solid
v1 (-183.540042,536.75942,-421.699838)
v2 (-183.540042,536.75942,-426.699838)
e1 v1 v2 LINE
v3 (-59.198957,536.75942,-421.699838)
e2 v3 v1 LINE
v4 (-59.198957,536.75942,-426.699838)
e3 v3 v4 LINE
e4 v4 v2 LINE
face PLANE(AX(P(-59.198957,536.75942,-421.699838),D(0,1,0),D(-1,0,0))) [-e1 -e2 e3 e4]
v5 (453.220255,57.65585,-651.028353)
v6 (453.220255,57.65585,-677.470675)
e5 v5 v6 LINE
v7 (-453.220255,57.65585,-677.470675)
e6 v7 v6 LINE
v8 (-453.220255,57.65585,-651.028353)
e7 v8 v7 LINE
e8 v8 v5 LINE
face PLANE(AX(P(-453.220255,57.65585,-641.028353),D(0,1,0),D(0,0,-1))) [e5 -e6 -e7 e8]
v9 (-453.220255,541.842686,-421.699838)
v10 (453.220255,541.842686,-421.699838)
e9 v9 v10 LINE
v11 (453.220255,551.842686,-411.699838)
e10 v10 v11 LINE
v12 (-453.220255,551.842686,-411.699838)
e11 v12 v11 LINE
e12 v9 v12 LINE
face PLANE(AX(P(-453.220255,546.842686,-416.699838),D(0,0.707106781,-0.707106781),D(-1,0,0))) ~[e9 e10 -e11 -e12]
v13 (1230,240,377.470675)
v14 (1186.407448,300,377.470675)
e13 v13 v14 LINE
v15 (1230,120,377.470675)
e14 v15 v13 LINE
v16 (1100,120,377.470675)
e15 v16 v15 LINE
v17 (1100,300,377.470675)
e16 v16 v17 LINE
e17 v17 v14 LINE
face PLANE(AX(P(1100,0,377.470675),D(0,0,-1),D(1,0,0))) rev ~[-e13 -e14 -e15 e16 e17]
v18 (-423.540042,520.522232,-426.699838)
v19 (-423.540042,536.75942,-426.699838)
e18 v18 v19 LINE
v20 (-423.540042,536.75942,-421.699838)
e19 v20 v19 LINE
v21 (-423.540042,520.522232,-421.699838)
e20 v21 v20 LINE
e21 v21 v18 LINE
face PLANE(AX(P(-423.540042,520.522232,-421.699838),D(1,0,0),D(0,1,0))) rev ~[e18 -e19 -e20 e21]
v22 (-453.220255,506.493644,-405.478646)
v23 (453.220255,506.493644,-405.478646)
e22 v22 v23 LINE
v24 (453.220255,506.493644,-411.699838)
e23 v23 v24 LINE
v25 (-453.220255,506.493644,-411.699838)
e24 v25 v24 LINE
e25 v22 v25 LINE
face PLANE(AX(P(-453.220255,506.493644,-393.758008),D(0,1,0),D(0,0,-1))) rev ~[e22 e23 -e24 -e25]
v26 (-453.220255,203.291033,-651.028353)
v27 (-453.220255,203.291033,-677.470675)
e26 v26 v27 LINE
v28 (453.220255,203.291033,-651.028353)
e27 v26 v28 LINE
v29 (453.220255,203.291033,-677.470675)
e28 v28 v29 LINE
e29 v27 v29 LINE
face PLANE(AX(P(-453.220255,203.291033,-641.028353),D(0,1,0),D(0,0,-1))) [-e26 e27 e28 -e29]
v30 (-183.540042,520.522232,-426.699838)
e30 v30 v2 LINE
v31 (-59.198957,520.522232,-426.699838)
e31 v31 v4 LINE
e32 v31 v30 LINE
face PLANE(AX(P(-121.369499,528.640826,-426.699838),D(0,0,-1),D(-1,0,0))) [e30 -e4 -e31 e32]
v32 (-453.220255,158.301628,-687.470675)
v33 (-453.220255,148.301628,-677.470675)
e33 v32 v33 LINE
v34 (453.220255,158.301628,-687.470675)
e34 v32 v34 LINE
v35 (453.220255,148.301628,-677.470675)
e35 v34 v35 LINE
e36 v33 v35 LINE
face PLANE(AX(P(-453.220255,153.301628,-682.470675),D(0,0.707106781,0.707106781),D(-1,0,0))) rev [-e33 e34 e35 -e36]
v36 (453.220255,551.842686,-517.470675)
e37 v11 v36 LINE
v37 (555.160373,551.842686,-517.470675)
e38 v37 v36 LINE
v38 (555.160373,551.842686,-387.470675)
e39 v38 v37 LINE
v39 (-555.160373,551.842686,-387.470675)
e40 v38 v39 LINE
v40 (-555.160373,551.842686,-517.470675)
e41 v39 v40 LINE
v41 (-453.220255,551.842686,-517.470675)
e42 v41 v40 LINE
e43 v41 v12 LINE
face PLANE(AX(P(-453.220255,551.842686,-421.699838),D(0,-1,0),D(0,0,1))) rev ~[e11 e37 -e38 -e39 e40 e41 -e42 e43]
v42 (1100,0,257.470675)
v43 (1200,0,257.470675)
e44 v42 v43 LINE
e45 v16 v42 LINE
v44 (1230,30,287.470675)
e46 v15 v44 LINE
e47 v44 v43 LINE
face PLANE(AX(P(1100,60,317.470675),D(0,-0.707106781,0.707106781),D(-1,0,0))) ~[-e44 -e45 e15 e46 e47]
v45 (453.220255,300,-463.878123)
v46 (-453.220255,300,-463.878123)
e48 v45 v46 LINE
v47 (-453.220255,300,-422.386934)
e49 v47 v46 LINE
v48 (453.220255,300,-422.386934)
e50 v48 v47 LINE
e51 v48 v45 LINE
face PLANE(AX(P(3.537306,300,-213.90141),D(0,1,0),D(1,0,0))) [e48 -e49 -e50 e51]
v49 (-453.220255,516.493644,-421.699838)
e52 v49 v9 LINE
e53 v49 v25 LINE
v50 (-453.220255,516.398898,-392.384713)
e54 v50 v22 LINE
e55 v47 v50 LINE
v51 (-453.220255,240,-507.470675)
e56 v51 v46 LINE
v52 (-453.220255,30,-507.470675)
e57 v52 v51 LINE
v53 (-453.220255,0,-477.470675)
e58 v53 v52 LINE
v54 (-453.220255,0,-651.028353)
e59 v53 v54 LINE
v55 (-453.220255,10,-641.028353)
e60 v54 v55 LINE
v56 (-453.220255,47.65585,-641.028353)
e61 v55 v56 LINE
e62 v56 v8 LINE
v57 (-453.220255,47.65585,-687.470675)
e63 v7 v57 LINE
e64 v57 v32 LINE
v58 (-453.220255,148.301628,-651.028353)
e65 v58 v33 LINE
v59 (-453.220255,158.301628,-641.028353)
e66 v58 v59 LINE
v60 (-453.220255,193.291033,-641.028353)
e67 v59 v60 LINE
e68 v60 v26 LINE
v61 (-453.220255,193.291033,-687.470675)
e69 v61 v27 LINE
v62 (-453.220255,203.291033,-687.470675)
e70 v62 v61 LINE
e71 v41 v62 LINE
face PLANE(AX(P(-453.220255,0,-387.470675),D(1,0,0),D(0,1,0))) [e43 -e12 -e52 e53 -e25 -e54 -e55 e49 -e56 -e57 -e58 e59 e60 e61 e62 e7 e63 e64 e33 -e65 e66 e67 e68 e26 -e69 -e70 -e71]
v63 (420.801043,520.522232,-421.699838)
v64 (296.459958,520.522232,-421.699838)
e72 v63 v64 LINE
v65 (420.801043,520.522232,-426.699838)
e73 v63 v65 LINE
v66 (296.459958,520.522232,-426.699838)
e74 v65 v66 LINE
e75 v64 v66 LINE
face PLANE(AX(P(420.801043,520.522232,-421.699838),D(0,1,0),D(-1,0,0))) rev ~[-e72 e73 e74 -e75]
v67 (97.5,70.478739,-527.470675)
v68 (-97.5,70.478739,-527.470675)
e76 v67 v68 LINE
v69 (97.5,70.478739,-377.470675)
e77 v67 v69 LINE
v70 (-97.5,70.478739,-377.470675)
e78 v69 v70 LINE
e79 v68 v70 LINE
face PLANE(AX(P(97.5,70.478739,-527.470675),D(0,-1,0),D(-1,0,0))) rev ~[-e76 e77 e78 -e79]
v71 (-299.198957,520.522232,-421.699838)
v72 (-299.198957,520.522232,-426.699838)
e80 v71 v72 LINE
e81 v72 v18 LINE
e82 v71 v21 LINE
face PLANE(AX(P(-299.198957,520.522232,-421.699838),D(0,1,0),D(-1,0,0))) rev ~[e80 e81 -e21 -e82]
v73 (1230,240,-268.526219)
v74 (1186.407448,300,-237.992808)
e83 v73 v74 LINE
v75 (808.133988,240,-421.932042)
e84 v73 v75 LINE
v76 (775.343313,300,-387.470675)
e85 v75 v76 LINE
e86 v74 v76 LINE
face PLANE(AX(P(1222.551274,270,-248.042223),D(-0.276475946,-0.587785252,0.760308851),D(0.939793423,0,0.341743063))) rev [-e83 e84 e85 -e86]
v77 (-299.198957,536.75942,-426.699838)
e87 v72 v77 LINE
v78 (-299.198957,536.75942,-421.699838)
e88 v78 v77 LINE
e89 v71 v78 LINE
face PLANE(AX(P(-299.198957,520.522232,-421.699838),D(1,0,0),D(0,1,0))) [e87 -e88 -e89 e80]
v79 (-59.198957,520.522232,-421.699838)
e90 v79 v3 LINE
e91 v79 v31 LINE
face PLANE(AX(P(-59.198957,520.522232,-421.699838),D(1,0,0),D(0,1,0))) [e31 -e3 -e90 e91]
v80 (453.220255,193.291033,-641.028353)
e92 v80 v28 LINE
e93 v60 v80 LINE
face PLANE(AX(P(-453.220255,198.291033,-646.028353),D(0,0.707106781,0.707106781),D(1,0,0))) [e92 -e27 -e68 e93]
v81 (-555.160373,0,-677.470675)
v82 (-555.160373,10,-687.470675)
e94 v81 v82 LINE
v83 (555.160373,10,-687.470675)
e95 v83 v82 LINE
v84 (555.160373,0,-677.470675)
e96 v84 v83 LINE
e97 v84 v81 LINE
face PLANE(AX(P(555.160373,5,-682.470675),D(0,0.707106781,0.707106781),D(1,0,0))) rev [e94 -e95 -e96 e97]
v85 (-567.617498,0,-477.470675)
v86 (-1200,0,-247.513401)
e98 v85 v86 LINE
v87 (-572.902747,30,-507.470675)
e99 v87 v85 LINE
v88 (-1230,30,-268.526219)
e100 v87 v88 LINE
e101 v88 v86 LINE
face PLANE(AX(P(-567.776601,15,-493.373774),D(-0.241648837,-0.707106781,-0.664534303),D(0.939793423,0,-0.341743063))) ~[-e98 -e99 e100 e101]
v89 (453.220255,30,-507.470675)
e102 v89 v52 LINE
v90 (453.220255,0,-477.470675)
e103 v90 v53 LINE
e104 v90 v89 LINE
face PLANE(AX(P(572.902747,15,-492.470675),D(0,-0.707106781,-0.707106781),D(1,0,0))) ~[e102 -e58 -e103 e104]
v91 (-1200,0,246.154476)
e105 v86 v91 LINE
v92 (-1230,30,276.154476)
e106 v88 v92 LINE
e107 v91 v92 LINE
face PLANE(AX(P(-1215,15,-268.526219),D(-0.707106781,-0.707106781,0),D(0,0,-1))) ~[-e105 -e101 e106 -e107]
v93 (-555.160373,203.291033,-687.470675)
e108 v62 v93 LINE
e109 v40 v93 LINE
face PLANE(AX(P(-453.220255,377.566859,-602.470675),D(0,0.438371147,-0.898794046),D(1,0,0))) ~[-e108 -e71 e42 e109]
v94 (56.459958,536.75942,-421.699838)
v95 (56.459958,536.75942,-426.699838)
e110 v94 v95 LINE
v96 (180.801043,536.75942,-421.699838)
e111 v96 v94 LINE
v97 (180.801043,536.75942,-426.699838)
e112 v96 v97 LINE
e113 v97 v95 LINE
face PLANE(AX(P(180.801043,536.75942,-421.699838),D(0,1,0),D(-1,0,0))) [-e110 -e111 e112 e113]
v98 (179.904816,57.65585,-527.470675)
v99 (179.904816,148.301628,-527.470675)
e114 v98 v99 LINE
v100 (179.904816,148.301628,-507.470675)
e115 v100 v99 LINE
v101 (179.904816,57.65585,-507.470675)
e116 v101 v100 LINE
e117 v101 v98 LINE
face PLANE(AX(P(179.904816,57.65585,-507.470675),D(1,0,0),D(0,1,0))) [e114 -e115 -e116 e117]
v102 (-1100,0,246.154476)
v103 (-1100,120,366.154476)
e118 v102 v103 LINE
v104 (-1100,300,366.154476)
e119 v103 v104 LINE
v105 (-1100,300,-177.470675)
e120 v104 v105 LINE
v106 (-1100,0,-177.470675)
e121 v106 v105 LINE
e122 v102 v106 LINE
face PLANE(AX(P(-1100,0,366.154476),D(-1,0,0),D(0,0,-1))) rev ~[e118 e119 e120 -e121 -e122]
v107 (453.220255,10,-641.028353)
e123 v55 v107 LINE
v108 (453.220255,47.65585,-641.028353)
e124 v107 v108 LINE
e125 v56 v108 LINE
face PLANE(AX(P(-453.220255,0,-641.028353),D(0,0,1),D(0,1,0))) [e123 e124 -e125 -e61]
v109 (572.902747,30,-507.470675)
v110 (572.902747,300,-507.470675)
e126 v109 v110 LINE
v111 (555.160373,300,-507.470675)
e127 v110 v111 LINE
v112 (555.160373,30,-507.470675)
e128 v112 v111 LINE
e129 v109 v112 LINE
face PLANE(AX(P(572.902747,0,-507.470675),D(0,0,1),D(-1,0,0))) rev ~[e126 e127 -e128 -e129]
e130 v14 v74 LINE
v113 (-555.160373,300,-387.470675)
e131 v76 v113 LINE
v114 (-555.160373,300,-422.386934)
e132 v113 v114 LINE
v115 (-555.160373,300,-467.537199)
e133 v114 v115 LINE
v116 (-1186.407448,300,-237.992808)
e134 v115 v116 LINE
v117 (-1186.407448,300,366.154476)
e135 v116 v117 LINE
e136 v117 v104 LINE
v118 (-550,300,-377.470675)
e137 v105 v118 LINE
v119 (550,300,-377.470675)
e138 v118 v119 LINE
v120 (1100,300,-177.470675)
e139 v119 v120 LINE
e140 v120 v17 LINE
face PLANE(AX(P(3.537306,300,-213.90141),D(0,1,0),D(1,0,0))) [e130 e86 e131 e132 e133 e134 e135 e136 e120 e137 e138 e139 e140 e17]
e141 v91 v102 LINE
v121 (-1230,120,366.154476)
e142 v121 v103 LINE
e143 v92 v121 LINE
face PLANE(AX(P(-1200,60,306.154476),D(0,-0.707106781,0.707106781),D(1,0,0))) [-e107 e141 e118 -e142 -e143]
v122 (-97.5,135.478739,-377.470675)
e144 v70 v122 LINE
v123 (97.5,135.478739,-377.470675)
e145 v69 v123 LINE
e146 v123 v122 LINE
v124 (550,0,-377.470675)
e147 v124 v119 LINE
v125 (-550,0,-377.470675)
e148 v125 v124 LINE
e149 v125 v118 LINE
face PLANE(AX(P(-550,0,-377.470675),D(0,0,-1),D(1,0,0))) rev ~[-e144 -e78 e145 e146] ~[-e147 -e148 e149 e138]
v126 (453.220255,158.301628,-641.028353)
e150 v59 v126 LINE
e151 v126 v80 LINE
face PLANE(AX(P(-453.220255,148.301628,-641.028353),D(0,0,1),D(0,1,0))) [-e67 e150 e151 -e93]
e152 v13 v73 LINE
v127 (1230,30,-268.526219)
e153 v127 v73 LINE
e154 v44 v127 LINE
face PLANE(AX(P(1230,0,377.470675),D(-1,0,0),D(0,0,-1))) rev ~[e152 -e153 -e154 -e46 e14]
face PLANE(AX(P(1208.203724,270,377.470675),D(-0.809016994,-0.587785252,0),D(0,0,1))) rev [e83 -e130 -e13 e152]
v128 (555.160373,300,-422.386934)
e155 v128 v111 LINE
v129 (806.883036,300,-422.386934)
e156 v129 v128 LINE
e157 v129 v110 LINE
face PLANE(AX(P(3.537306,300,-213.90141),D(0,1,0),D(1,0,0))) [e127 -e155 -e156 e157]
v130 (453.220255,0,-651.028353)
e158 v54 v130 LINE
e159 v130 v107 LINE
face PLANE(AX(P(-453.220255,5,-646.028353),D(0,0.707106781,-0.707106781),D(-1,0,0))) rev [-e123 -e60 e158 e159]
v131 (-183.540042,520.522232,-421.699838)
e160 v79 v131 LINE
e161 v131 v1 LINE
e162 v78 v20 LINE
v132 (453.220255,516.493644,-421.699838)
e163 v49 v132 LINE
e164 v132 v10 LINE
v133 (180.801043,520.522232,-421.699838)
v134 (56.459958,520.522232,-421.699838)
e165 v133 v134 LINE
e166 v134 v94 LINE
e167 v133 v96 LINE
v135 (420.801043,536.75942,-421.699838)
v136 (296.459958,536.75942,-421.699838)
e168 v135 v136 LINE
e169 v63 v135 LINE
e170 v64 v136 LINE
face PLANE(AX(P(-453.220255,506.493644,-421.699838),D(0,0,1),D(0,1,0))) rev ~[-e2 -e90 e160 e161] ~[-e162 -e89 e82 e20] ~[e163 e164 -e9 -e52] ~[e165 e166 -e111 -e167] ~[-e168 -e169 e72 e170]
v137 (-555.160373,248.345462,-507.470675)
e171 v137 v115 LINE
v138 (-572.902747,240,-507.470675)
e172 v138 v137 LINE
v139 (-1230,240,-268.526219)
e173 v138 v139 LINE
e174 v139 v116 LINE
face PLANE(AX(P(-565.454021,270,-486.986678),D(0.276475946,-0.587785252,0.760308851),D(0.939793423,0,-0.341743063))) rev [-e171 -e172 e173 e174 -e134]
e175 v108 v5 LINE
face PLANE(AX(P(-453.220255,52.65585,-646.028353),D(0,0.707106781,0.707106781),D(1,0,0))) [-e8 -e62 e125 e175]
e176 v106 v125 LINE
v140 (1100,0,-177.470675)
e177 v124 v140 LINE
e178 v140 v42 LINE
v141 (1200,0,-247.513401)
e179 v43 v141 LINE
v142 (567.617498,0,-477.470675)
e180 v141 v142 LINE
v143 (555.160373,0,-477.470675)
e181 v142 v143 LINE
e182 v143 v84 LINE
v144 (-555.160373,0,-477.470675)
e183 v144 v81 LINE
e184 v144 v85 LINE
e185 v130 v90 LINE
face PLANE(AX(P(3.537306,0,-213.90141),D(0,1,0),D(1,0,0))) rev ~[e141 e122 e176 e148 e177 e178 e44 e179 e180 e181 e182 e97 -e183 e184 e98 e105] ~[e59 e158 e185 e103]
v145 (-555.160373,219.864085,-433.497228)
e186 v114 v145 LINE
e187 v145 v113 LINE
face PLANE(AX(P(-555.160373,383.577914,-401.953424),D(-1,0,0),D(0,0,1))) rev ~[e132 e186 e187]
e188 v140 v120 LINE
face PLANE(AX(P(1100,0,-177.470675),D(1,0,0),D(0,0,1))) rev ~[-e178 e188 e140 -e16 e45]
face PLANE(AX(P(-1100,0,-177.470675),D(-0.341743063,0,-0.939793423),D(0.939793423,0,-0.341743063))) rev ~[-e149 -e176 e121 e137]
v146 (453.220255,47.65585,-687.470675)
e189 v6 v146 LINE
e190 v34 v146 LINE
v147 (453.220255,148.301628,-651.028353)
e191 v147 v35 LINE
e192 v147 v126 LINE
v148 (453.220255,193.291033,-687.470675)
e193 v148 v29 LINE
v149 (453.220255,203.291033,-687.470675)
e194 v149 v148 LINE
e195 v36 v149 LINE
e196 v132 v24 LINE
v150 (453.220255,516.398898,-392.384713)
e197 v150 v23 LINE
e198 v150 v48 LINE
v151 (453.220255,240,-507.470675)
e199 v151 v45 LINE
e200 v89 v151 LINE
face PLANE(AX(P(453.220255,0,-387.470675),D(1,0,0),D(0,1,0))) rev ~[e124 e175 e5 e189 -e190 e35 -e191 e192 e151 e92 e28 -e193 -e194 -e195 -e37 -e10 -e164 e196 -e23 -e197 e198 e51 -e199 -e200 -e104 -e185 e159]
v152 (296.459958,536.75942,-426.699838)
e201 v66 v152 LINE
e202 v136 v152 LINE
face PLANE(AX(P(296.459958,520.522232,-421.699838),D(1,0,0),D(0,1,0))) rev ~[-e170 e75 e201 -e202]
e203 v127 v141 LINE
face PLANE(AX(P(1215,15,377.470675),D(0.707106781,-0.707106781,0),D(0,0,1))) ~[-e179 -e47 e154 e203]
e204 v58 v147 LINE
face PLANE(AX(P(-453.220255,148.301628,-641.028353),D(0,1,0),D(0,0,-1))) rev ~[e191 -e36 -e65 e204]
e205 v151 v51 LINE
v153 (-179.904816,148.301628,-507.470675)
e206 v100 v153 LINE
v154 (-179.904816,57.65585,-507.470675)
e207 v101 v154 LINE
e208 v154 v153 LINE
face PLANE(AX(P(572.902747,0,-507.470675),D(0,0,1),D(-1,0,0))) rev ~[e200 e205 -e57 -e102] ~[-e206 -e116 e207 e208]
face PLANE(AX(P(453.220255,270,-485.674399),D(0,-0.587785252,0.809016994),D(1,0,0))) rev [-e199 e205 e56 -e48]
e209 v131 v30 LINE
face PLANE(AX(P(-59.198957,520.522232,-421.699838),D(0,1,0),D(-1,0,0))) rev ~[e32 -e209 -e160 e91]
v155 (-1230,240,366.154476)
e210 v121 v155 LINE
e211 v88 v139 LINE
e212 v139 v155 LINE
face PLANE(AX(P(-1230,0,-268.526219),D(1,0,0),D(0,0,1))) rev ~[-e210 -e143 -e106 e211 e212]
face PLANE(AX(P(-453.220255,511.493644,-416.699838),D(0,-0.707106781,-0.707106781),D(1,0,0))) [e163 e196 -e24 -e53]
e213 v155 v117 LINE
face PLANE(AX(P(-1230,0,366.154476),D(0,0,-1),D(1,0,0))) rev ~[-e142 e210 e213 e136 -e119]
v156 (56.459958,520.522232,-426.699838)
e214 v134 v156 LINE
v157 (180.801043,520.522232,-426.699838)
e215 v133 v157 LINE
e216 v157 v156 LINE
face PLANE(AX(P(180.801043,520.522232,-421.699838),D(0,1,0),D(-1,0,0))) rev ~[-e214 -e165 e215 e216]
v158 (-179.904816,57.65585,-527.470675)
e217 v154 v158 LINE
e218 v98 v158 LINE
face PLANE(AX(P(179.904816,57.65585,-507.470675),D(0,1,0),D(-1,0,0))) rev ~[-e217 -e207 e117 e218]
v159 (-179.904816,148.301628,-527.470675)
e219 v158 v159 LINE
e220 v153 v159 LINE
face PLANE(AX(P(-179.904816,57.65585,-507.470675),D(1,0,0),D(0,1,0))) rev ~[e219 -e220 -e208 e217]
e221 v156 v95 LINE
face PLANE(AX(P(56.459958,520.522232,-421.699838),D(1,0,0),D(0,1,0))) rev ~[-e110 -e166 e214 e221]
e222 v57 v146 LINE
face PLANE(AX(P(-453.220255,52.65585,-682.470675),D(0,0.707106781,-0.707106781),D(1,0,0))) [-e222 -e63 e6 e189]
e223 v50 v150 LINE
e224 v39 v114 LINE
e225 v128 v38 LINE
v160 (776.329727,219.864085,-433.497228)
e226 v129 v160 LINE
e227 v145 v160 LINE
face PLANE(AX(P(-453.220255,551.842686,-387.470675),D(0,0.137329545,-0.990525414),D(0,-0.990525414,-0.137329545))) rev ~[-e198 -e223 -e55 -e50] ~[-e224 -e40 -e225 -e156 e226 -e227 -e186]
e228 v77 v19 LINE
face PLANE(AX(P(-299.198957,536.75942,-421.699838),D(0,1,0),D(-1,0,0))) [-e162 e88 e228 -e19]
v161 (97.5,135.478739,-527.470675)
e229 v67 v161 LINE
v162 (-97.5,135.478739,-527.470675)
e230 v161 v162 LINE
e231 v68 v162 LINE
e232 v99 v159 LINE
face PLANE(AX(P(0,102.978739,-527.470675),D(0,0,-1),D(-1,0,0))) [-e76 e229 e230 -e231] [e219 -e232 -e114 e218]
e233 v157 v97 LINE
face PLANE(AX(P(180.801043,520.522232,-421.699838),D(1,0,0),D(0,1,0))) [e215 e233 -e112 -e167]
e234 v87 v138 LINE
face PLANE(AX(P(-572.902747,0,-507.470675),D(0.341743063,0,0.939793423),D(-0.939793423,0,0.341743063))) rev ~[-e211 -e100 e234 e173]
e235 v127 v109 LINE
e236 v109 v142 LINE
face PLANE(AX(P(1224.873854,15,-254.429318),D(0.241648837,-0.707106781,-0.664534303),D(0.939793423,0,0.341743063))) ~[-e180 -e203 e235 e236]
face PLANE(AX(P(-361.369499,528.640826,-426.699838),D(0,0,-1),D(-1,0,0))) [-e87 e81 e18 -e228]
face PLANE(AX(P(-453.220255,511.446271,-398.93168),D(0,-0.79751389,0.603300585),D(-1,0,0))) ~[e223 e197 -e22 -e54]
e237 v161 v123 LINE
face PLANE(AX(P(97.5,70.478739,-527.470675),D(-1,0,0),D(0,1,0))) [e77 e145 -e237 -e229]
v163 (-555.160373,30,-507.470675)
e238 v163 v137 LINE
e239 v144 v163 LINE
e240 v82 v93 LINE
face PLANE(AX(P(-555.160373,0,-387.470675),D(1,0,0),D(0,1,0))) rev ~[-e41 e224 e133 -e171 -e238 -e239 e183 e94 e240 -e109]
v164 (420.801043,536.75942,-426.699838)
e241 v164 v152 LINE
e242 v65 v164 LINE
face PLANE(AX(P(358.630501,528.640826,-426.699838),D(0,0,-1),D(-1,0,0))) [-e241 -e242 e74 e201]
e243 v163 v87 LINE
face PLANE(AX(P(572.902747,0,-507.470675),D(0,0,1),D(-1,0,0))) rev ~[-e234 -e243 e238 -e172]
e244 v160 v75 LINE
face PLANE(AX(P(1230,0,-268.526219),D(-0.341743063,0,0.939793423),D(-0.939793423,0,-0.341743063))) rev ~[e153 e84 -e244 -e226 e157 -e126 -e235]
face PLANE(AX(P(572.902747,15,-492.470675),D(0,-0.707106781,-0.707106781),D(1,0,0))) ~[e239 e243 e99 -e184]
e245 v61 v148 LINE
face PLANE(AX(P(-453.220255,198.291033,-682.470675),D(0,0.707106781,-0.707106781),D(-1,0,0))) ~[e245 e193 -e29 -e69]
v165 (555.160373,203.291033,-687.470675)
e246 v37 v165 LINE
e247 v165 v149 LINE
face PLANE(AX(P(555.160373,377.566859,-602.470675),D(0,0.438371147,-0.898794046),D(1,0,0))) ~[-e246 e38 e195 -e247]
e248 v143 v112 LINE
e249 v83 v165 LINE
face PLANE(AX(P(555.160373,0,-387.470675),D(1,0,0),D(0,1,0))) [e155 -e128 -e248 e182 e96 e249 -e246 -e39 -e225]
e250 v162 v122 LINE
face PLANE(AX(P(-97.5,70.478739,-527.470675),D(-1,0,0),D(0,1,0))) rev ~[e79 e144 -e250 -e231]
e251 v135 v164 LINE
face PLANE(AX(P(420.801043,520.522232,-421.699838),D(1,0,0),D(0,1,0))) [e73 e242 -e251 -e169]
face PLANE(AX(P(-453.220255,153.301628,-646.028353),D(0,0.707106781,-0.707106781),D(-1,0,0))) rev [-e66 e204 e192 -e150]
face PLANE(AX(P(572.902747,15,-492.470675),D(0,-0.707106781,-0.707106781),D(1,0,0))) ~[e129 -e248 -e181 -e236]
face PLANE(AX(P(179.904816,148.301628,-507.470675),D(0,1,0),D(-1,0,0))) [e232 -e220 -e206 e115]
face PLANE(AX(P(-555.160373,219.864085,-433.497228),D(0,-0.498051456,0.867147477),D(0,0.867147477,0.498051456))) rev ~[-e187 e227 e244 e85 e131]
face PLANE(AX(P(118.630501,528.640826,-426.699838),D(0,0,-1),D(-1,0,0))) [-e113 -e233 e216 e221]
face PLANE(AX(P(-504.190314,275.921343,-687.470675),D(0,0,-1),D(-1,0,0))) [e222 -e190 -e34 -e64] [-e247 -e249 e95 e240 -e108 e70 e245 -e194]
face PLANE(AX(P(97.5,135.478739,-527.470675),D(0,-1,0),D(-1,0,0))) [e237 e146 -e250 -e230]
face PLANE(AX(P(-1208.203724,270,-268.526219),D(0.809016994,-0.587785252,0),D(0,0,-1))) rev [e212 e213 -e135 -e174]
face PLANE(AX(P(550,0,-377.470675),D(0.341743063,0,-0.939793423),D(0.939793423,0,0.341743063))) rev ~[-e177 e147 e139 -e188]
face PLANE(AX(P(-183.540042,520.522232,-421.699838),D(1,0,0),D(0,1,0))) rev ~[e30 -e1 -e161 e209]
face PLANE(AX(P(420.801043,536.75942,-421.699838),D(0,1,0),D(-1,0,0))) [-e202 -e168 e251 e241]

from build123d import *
from OCP.BRepFilletAPI import BRepFilletAPI_MakeChamfer

# Parameters (mm, degrees)
BOSS_EXTRUDE1_DEPTH      = 300
CHAMFER1_SIZE            = 30
CHAMFER2_SIZE            = 120
BOSS_EXTRUDE2_DEPTH      = 180
BOSS_EXTRUDE2_DEPTH_BACK = 120
SKETCH3_W                = 101.940118113
SKETCH3_H                = 551.842685694
CUT_EXTRUDE7_DEPTH       = 1991.965553697
CHAMFER3_SIZE            = 170
CHAMFER3_SIZE2           = 348.551653068
SKETCH6_W                = 46.442322401
SKETCH6_H                = 54.989404456
SKETCH6_H_2              = 57.655849519
BOSS_EXTRUDE3_DEPTH      = 906.440509715
CHAMFER5_SIZE            = 10
CHAMFER5_SIZE2           = 11.720638091
SKETCH7_W                = 359.809632682
SKETCH7_H                = 90.64577865
BOSS_EXTRUDE4_DEPTH      = 20
SKETCH8_W                = 195
SKETCH8_H                = 65
CUT_EXTRUDE8_DEPTH       = 392
SKETCH9_W                = 124.341085276
SKETCH9_H                = 16.237188454
BOSS_EXTRUDE5_DEPTH      = 5
CHAMFER6_SIZE            = 60
CHAMFER6_SIZE2           = 43.59255168


with BuildPart() as part:
    # Sketch2 → Boss-Extrude1 (new body)
    with BuildSketch(Plane(origin=(0, 0, 0), x_dir=(1, 0, 0), z_dir=(0, 1, 0))):
        Polygon((-1100, -366.154475502), (-1100, 177.470675031), (-550, 377.470675031), (550, 377.470675031), (1100, 177.470675031), (1100, -377.470675031), (1230, -377.470675031), (1230, 268.52621943), (572.902747098, 507.470675031), (-572.902747098, 507.470675031), (-1230, 268.52621943), (-1230, -366.154475502), align=None)
    extrude(amount=BOSS_EXTRUDE1_DEPTH)

    # Chamfer1
    chamfer1_edges = [part.edges().sort_by_distance(p)[0] for p in [
        (-1230, 0, 48.814128036),
        (-901.451373549, 0, -387.99844723),
        (0, 0, -507.470675031),
        (901.451373549, 0, -387.99844723),
        (1230, 0, 54.4722278),
    ]]
    chamfer(chamfer1_edges, length=CHAMFER1_SIZE)

    # Chamfer2
    chamfer2_edges = [part.edges().sort_by_distance(p)[0] for p in [
        (-1150, 0, 366.154475502),
        (1150, 0, 377.470675031),
    ]]
    chamfer(chamfer2_edges, length=CHAMFER2_SIZE)

    # Sketch3 → Boss-Extrude2 (add, two sides: drawn at the far end of the back side and taken through both)
    with BuildSketch(Plane(origin=(0, 0, -507.470675031), x_dir=(-1, 0, 0), z_dir=(0, 0, -1)).offset(-BOSS_EXTRUDE2_DEPTH_BACK)):
        with Locations((-504.190313915, 275.921342847)):
            Rectangle(SKETCH3_W, SKETCH3_H)
        with Locations((504.190313915, 275.921342847)):
            Rectangle(SKETCH3_W, SKETCH3_H)
    extrude(amount=BOSS_EXTRUDE2_DEPTH + BOSS_EXTRUDE2_DEPTH_BACK)

    # Sketch5 → Cut-Extrude7 (cut, through all)
    with BuildSketch(Plane.ZY.offset(555.160372971)):
        Polygon((-387.470675031, 551.842685694), (-433.497227826, 219.864084998), (-387.470675031, 300), align=None)
    extrude(amount=-CUT_EXTRUDE7_DEPTH, mode=Mode.SUBTRACT)

    # Chamfer3: one chamfer whose edges measure the first distance from different faces: ONE call of the kernel's chamfer builder (chamfer() names one face for all edges)
    chamfer3_edges_1 = [part.edges().sort_by_distance(p)[0] for p in [
        (-504.190313915, 551.842685694, -687.470675031),
    ]]
    chamfer3_side_1 = [part.faces().sort_by_distance(p)[0] for p in [
        (-504.190313915, 551.842685694, -537.470675031),
    ]]
    chamfer3_edges_2 = [part.edges().sort_by_distance(p)[0] for p in [
        (504.190313915, 551.842685694, -687.470675031),
    ]]
    chamfer3_side_2 = [part.faces().sort_by_distance(p)[0] for p in [
        (504.190313915, 551.842685694, -537.470675031),
    ]]
    chamfer3 = BRepFilletAPI_MakeChamfer(part.part.solid().wrapped)
    for e in chamfer3_edges_1:
        chamfer3.Add(CHAMFER3_SIZE, CHAMFER3_SIZE2, e.wrapped, chamfer3_side_1[0].wrapped)  # the first distance lies on this face
    for e in chamfer3_edges_2:
        chamfer3.Add(CHAMFER3_SIZE, CHAMFER3_SIZE2, e.wrapped, chamfer3_side_2[0].wrapped)  # the first distance lies on this face
    add(Compound.cast(chamfer3.Shape()), mode=Mode.REPLACE)

    # Sketch6 → Boss-Extrude3 (add)
    with BuildSketch(Plane(origin=(-453.220254858, 0, 0), x_dir=(0, 0, -1), z_dir=(1, 0, 0))):
        Polygon((387.470675031, 551.842685694), (393.758008235, 506.493643621), (421.699837769, 506.493643621), (421.699837769, 551.842685694), align=None)
        with Locations((664.249513831, 175.796330397)):
            Rectangle(SKETCH6_W, SKETCH6_H)
        with Locations((664.249513831, 28.82792476)):
            Rectangle(SKETCH6_W, SKETCH6_H_2)
    extrude(amount=BOSS_EXTRUDE3_DEPTH)

    # Chamfer5: one chamfer whose edges measure the first distance from different faces: ONE call of the kernel's chamfer builder (chamfer() names one face for all edges)
    chamfer5_edges_1 = [part.edges().sort_by_distance(p)[0] for p in [
        (0, 506.493643621, -421.699837769),
        (0, 551.842685694, -421.699837769),
        (0, 148.301628169, -641.02835263),
        (0, 203.291032625, -641.02835263),
        (0, 203.291032625, -687.470675031),
        (0, 148.301628169, -687.470675031),
        (0, 0, -641.02835263),
        (0, 57.655849519, -641.02835263),
        (0, 57.655849519, -687.470675031),
        (0, 0, -687.470675031),
    ]]
    chamfer5_edges_2 = [part.edges().sort_by_distance(p)[0] for p in [
        (0, 506.493643621, -393.758008235),
    ]]
    chamfer5_side_2 = [part.faces().sort_by_distance(p)[0] for p in [
        (-541.133646758, 425.921342847, -404.928804327),
    ]]
    chamfer5 = BRepFilletAPI_MakeChamfer(part.part.solid().wrapped)
    for e in chamfer5_edges_1:
        chamfer5.Add(CHAMFER5_SIZE, e.wrapped)
    for e in chamfer5_edges_2:
        chamfer5.Add(CHAMFER5_SIZE, CHAMFER5_SIZE2, e.wrapped, chamfer5_side_2[0].wrapped)  # the first distance lies on this face
    add(Compound.cast(chamfer5.Shape()), mode=Mode.REPLACE)

    # Sketch7 → Boss-Extrude4 (add)
    with BuildSketch(Plane(origin=(0, 0, -507.470675031), x_dir=(-1, 0, 0), z_dir=(0, 0, -1))):
        with Locations((0, 102.978738844)):
            Rectangle(SKETCH7_W, SKETCH7_H)
    extrude(amount=BOSS_EXTRUDE4_DEPTH)

    # Sketch8 → Cut-Extrude8 (cut)
    with BuildSketch(Plane(origin=(0, 0, -527.470675031), x_dir=(-1, 0, 0), z_dir=(0, 0, -1))):
        with Locations((0, 102.978738844)):
            Rectangle(SKETCH8_W, SKETCH8_H)
    extrude(amount=-CUT_EXTRUDE8_DEPTH, mode=Mode.SUBTRACT)

    # Sketch9 → Boss-Extrude5 (add)
    with BuildSketch(Plane(origin=(0, 0, -421.699837769), x_dir=(-1, 0, 0), z_dir=(0, 0, -1))):
        with Locations((-358.63050058, 528.640825731)):
            Rectangle(SKETCH9_W, SKETCH9_H)
        with Locations((-118.63050058, 528.640825731)):
            Rectangle(SKETCH9_W, SKETCH9_H)
        with Locations((121.36949942, 528.640825731)):
            Rectangle(SKETCH9_W, SKETCH9_H)
        with Locations((361.36949942, 528.640825731)):
            Rectangle(SKETCH9_W, SKETCH9_H)
    extrude(amount=BOSS_EXTRUDE5_DEPTH)

    # Chamfer6: one chamfer whose edges measure the first distance from different faces: ONE call of the kernel's chamfer builder (chamfer() names one face for all edges)
    chamfer6_edges_1 = [part.edges().sort_by_distance(p)[0] for p in [
        (-1230, 300, 48.814128036),
    ]]
    chamfer6_side_1 = [part.faces().sort_by_distance(p)[0] for p in [
        (-1230, 167.541631542, 41.858763366),
    ]]
    chamfer6_edges_2 = [part.edges().sort_by_distance(p)[0] for p in [
        (-901.451373549, 300, -387.99844723),
    ]]
    chamfer6_side_2 = [part.faces().sort_by_distance(p)[0] for p in [
        (-901.451373549, 165, -387.99844723),
    ]]
    chamfer6_edges_3 = [part.edges().sort_by_distance(p)[0] for p in [
        (0, 300, -507.470675031),
    ]]
    chamfer6_side_3 = [part.faces().sort_by_distance(p)[0] for p in [
        (0, 174.536120756, -507.470675031),
    ]]
    chamfer6_edges_4 = [part.edges().sort_by_distance(p)[0] for p in [
        (1066.451373549, 300, -327.99844723),
    ]]
    chamfer6_side_4 = [part.faces().sort_by_distance(p)[0] for p in [
        (903.063859392, 162.599697247, -387.412088742),
    ]]
    chamfer6_edges_5 = [part.edges().sort_by_distance(p)[0] for p in [
        (1230, 300, 54.4722278),
    ]]
    chamfer6_side_5 = [part.faces().sort_by_distance(p)[0] for p in [
        (1230, 167.496050319, 47.507095726),
    ]]
    chamfer6 = BRepFilletAPI_MakeChamfer(part.part.solid().wrapped)
    for e in chamfer6_edges_1:
        chamfer6.Add(CHAMFER6_SIZE, CHAMFER6_SIZE2, e.wrapped, chamfer6_side_1[0].wrapped)  # the first distance lies on this face
    for e in chamfer6_edges_2:
        chamfer6.Add(CHAMFER6_SIZE, CHAMFER6_SIZE2, e.wrapped, chamfer6_side_2[0].wrapped)  # the first distance lies on this face
    for e in chamfer6_edges_3:
        chamfer6.Add(CHAMFER6_SIZE, CHAMFER6_SIZE2, e.wrapped, chamfer6_side_3[0].wrapped)  # the first distance lies on this face
    for e in chamfer6_edges_4:
        chamfer6.Add(CHAMFER6_SIZE, CHAMFER6_SIZE2, e.wrapped, chamfer6_side_4[0].wrapped)  # the first distance lies on this face
    for e in chamfer6_edges_5:
        chamfer6.Add(CHAMFER6_SIZE, CHAMFER6_SIZE2, e.wrapped, chamfer6_side_5[0].wrapped)  # the first distance lies on this face
    add(Compound.cast(chamfer6.Shape()), mode=Mode.REPLACE)


solid = part.part
